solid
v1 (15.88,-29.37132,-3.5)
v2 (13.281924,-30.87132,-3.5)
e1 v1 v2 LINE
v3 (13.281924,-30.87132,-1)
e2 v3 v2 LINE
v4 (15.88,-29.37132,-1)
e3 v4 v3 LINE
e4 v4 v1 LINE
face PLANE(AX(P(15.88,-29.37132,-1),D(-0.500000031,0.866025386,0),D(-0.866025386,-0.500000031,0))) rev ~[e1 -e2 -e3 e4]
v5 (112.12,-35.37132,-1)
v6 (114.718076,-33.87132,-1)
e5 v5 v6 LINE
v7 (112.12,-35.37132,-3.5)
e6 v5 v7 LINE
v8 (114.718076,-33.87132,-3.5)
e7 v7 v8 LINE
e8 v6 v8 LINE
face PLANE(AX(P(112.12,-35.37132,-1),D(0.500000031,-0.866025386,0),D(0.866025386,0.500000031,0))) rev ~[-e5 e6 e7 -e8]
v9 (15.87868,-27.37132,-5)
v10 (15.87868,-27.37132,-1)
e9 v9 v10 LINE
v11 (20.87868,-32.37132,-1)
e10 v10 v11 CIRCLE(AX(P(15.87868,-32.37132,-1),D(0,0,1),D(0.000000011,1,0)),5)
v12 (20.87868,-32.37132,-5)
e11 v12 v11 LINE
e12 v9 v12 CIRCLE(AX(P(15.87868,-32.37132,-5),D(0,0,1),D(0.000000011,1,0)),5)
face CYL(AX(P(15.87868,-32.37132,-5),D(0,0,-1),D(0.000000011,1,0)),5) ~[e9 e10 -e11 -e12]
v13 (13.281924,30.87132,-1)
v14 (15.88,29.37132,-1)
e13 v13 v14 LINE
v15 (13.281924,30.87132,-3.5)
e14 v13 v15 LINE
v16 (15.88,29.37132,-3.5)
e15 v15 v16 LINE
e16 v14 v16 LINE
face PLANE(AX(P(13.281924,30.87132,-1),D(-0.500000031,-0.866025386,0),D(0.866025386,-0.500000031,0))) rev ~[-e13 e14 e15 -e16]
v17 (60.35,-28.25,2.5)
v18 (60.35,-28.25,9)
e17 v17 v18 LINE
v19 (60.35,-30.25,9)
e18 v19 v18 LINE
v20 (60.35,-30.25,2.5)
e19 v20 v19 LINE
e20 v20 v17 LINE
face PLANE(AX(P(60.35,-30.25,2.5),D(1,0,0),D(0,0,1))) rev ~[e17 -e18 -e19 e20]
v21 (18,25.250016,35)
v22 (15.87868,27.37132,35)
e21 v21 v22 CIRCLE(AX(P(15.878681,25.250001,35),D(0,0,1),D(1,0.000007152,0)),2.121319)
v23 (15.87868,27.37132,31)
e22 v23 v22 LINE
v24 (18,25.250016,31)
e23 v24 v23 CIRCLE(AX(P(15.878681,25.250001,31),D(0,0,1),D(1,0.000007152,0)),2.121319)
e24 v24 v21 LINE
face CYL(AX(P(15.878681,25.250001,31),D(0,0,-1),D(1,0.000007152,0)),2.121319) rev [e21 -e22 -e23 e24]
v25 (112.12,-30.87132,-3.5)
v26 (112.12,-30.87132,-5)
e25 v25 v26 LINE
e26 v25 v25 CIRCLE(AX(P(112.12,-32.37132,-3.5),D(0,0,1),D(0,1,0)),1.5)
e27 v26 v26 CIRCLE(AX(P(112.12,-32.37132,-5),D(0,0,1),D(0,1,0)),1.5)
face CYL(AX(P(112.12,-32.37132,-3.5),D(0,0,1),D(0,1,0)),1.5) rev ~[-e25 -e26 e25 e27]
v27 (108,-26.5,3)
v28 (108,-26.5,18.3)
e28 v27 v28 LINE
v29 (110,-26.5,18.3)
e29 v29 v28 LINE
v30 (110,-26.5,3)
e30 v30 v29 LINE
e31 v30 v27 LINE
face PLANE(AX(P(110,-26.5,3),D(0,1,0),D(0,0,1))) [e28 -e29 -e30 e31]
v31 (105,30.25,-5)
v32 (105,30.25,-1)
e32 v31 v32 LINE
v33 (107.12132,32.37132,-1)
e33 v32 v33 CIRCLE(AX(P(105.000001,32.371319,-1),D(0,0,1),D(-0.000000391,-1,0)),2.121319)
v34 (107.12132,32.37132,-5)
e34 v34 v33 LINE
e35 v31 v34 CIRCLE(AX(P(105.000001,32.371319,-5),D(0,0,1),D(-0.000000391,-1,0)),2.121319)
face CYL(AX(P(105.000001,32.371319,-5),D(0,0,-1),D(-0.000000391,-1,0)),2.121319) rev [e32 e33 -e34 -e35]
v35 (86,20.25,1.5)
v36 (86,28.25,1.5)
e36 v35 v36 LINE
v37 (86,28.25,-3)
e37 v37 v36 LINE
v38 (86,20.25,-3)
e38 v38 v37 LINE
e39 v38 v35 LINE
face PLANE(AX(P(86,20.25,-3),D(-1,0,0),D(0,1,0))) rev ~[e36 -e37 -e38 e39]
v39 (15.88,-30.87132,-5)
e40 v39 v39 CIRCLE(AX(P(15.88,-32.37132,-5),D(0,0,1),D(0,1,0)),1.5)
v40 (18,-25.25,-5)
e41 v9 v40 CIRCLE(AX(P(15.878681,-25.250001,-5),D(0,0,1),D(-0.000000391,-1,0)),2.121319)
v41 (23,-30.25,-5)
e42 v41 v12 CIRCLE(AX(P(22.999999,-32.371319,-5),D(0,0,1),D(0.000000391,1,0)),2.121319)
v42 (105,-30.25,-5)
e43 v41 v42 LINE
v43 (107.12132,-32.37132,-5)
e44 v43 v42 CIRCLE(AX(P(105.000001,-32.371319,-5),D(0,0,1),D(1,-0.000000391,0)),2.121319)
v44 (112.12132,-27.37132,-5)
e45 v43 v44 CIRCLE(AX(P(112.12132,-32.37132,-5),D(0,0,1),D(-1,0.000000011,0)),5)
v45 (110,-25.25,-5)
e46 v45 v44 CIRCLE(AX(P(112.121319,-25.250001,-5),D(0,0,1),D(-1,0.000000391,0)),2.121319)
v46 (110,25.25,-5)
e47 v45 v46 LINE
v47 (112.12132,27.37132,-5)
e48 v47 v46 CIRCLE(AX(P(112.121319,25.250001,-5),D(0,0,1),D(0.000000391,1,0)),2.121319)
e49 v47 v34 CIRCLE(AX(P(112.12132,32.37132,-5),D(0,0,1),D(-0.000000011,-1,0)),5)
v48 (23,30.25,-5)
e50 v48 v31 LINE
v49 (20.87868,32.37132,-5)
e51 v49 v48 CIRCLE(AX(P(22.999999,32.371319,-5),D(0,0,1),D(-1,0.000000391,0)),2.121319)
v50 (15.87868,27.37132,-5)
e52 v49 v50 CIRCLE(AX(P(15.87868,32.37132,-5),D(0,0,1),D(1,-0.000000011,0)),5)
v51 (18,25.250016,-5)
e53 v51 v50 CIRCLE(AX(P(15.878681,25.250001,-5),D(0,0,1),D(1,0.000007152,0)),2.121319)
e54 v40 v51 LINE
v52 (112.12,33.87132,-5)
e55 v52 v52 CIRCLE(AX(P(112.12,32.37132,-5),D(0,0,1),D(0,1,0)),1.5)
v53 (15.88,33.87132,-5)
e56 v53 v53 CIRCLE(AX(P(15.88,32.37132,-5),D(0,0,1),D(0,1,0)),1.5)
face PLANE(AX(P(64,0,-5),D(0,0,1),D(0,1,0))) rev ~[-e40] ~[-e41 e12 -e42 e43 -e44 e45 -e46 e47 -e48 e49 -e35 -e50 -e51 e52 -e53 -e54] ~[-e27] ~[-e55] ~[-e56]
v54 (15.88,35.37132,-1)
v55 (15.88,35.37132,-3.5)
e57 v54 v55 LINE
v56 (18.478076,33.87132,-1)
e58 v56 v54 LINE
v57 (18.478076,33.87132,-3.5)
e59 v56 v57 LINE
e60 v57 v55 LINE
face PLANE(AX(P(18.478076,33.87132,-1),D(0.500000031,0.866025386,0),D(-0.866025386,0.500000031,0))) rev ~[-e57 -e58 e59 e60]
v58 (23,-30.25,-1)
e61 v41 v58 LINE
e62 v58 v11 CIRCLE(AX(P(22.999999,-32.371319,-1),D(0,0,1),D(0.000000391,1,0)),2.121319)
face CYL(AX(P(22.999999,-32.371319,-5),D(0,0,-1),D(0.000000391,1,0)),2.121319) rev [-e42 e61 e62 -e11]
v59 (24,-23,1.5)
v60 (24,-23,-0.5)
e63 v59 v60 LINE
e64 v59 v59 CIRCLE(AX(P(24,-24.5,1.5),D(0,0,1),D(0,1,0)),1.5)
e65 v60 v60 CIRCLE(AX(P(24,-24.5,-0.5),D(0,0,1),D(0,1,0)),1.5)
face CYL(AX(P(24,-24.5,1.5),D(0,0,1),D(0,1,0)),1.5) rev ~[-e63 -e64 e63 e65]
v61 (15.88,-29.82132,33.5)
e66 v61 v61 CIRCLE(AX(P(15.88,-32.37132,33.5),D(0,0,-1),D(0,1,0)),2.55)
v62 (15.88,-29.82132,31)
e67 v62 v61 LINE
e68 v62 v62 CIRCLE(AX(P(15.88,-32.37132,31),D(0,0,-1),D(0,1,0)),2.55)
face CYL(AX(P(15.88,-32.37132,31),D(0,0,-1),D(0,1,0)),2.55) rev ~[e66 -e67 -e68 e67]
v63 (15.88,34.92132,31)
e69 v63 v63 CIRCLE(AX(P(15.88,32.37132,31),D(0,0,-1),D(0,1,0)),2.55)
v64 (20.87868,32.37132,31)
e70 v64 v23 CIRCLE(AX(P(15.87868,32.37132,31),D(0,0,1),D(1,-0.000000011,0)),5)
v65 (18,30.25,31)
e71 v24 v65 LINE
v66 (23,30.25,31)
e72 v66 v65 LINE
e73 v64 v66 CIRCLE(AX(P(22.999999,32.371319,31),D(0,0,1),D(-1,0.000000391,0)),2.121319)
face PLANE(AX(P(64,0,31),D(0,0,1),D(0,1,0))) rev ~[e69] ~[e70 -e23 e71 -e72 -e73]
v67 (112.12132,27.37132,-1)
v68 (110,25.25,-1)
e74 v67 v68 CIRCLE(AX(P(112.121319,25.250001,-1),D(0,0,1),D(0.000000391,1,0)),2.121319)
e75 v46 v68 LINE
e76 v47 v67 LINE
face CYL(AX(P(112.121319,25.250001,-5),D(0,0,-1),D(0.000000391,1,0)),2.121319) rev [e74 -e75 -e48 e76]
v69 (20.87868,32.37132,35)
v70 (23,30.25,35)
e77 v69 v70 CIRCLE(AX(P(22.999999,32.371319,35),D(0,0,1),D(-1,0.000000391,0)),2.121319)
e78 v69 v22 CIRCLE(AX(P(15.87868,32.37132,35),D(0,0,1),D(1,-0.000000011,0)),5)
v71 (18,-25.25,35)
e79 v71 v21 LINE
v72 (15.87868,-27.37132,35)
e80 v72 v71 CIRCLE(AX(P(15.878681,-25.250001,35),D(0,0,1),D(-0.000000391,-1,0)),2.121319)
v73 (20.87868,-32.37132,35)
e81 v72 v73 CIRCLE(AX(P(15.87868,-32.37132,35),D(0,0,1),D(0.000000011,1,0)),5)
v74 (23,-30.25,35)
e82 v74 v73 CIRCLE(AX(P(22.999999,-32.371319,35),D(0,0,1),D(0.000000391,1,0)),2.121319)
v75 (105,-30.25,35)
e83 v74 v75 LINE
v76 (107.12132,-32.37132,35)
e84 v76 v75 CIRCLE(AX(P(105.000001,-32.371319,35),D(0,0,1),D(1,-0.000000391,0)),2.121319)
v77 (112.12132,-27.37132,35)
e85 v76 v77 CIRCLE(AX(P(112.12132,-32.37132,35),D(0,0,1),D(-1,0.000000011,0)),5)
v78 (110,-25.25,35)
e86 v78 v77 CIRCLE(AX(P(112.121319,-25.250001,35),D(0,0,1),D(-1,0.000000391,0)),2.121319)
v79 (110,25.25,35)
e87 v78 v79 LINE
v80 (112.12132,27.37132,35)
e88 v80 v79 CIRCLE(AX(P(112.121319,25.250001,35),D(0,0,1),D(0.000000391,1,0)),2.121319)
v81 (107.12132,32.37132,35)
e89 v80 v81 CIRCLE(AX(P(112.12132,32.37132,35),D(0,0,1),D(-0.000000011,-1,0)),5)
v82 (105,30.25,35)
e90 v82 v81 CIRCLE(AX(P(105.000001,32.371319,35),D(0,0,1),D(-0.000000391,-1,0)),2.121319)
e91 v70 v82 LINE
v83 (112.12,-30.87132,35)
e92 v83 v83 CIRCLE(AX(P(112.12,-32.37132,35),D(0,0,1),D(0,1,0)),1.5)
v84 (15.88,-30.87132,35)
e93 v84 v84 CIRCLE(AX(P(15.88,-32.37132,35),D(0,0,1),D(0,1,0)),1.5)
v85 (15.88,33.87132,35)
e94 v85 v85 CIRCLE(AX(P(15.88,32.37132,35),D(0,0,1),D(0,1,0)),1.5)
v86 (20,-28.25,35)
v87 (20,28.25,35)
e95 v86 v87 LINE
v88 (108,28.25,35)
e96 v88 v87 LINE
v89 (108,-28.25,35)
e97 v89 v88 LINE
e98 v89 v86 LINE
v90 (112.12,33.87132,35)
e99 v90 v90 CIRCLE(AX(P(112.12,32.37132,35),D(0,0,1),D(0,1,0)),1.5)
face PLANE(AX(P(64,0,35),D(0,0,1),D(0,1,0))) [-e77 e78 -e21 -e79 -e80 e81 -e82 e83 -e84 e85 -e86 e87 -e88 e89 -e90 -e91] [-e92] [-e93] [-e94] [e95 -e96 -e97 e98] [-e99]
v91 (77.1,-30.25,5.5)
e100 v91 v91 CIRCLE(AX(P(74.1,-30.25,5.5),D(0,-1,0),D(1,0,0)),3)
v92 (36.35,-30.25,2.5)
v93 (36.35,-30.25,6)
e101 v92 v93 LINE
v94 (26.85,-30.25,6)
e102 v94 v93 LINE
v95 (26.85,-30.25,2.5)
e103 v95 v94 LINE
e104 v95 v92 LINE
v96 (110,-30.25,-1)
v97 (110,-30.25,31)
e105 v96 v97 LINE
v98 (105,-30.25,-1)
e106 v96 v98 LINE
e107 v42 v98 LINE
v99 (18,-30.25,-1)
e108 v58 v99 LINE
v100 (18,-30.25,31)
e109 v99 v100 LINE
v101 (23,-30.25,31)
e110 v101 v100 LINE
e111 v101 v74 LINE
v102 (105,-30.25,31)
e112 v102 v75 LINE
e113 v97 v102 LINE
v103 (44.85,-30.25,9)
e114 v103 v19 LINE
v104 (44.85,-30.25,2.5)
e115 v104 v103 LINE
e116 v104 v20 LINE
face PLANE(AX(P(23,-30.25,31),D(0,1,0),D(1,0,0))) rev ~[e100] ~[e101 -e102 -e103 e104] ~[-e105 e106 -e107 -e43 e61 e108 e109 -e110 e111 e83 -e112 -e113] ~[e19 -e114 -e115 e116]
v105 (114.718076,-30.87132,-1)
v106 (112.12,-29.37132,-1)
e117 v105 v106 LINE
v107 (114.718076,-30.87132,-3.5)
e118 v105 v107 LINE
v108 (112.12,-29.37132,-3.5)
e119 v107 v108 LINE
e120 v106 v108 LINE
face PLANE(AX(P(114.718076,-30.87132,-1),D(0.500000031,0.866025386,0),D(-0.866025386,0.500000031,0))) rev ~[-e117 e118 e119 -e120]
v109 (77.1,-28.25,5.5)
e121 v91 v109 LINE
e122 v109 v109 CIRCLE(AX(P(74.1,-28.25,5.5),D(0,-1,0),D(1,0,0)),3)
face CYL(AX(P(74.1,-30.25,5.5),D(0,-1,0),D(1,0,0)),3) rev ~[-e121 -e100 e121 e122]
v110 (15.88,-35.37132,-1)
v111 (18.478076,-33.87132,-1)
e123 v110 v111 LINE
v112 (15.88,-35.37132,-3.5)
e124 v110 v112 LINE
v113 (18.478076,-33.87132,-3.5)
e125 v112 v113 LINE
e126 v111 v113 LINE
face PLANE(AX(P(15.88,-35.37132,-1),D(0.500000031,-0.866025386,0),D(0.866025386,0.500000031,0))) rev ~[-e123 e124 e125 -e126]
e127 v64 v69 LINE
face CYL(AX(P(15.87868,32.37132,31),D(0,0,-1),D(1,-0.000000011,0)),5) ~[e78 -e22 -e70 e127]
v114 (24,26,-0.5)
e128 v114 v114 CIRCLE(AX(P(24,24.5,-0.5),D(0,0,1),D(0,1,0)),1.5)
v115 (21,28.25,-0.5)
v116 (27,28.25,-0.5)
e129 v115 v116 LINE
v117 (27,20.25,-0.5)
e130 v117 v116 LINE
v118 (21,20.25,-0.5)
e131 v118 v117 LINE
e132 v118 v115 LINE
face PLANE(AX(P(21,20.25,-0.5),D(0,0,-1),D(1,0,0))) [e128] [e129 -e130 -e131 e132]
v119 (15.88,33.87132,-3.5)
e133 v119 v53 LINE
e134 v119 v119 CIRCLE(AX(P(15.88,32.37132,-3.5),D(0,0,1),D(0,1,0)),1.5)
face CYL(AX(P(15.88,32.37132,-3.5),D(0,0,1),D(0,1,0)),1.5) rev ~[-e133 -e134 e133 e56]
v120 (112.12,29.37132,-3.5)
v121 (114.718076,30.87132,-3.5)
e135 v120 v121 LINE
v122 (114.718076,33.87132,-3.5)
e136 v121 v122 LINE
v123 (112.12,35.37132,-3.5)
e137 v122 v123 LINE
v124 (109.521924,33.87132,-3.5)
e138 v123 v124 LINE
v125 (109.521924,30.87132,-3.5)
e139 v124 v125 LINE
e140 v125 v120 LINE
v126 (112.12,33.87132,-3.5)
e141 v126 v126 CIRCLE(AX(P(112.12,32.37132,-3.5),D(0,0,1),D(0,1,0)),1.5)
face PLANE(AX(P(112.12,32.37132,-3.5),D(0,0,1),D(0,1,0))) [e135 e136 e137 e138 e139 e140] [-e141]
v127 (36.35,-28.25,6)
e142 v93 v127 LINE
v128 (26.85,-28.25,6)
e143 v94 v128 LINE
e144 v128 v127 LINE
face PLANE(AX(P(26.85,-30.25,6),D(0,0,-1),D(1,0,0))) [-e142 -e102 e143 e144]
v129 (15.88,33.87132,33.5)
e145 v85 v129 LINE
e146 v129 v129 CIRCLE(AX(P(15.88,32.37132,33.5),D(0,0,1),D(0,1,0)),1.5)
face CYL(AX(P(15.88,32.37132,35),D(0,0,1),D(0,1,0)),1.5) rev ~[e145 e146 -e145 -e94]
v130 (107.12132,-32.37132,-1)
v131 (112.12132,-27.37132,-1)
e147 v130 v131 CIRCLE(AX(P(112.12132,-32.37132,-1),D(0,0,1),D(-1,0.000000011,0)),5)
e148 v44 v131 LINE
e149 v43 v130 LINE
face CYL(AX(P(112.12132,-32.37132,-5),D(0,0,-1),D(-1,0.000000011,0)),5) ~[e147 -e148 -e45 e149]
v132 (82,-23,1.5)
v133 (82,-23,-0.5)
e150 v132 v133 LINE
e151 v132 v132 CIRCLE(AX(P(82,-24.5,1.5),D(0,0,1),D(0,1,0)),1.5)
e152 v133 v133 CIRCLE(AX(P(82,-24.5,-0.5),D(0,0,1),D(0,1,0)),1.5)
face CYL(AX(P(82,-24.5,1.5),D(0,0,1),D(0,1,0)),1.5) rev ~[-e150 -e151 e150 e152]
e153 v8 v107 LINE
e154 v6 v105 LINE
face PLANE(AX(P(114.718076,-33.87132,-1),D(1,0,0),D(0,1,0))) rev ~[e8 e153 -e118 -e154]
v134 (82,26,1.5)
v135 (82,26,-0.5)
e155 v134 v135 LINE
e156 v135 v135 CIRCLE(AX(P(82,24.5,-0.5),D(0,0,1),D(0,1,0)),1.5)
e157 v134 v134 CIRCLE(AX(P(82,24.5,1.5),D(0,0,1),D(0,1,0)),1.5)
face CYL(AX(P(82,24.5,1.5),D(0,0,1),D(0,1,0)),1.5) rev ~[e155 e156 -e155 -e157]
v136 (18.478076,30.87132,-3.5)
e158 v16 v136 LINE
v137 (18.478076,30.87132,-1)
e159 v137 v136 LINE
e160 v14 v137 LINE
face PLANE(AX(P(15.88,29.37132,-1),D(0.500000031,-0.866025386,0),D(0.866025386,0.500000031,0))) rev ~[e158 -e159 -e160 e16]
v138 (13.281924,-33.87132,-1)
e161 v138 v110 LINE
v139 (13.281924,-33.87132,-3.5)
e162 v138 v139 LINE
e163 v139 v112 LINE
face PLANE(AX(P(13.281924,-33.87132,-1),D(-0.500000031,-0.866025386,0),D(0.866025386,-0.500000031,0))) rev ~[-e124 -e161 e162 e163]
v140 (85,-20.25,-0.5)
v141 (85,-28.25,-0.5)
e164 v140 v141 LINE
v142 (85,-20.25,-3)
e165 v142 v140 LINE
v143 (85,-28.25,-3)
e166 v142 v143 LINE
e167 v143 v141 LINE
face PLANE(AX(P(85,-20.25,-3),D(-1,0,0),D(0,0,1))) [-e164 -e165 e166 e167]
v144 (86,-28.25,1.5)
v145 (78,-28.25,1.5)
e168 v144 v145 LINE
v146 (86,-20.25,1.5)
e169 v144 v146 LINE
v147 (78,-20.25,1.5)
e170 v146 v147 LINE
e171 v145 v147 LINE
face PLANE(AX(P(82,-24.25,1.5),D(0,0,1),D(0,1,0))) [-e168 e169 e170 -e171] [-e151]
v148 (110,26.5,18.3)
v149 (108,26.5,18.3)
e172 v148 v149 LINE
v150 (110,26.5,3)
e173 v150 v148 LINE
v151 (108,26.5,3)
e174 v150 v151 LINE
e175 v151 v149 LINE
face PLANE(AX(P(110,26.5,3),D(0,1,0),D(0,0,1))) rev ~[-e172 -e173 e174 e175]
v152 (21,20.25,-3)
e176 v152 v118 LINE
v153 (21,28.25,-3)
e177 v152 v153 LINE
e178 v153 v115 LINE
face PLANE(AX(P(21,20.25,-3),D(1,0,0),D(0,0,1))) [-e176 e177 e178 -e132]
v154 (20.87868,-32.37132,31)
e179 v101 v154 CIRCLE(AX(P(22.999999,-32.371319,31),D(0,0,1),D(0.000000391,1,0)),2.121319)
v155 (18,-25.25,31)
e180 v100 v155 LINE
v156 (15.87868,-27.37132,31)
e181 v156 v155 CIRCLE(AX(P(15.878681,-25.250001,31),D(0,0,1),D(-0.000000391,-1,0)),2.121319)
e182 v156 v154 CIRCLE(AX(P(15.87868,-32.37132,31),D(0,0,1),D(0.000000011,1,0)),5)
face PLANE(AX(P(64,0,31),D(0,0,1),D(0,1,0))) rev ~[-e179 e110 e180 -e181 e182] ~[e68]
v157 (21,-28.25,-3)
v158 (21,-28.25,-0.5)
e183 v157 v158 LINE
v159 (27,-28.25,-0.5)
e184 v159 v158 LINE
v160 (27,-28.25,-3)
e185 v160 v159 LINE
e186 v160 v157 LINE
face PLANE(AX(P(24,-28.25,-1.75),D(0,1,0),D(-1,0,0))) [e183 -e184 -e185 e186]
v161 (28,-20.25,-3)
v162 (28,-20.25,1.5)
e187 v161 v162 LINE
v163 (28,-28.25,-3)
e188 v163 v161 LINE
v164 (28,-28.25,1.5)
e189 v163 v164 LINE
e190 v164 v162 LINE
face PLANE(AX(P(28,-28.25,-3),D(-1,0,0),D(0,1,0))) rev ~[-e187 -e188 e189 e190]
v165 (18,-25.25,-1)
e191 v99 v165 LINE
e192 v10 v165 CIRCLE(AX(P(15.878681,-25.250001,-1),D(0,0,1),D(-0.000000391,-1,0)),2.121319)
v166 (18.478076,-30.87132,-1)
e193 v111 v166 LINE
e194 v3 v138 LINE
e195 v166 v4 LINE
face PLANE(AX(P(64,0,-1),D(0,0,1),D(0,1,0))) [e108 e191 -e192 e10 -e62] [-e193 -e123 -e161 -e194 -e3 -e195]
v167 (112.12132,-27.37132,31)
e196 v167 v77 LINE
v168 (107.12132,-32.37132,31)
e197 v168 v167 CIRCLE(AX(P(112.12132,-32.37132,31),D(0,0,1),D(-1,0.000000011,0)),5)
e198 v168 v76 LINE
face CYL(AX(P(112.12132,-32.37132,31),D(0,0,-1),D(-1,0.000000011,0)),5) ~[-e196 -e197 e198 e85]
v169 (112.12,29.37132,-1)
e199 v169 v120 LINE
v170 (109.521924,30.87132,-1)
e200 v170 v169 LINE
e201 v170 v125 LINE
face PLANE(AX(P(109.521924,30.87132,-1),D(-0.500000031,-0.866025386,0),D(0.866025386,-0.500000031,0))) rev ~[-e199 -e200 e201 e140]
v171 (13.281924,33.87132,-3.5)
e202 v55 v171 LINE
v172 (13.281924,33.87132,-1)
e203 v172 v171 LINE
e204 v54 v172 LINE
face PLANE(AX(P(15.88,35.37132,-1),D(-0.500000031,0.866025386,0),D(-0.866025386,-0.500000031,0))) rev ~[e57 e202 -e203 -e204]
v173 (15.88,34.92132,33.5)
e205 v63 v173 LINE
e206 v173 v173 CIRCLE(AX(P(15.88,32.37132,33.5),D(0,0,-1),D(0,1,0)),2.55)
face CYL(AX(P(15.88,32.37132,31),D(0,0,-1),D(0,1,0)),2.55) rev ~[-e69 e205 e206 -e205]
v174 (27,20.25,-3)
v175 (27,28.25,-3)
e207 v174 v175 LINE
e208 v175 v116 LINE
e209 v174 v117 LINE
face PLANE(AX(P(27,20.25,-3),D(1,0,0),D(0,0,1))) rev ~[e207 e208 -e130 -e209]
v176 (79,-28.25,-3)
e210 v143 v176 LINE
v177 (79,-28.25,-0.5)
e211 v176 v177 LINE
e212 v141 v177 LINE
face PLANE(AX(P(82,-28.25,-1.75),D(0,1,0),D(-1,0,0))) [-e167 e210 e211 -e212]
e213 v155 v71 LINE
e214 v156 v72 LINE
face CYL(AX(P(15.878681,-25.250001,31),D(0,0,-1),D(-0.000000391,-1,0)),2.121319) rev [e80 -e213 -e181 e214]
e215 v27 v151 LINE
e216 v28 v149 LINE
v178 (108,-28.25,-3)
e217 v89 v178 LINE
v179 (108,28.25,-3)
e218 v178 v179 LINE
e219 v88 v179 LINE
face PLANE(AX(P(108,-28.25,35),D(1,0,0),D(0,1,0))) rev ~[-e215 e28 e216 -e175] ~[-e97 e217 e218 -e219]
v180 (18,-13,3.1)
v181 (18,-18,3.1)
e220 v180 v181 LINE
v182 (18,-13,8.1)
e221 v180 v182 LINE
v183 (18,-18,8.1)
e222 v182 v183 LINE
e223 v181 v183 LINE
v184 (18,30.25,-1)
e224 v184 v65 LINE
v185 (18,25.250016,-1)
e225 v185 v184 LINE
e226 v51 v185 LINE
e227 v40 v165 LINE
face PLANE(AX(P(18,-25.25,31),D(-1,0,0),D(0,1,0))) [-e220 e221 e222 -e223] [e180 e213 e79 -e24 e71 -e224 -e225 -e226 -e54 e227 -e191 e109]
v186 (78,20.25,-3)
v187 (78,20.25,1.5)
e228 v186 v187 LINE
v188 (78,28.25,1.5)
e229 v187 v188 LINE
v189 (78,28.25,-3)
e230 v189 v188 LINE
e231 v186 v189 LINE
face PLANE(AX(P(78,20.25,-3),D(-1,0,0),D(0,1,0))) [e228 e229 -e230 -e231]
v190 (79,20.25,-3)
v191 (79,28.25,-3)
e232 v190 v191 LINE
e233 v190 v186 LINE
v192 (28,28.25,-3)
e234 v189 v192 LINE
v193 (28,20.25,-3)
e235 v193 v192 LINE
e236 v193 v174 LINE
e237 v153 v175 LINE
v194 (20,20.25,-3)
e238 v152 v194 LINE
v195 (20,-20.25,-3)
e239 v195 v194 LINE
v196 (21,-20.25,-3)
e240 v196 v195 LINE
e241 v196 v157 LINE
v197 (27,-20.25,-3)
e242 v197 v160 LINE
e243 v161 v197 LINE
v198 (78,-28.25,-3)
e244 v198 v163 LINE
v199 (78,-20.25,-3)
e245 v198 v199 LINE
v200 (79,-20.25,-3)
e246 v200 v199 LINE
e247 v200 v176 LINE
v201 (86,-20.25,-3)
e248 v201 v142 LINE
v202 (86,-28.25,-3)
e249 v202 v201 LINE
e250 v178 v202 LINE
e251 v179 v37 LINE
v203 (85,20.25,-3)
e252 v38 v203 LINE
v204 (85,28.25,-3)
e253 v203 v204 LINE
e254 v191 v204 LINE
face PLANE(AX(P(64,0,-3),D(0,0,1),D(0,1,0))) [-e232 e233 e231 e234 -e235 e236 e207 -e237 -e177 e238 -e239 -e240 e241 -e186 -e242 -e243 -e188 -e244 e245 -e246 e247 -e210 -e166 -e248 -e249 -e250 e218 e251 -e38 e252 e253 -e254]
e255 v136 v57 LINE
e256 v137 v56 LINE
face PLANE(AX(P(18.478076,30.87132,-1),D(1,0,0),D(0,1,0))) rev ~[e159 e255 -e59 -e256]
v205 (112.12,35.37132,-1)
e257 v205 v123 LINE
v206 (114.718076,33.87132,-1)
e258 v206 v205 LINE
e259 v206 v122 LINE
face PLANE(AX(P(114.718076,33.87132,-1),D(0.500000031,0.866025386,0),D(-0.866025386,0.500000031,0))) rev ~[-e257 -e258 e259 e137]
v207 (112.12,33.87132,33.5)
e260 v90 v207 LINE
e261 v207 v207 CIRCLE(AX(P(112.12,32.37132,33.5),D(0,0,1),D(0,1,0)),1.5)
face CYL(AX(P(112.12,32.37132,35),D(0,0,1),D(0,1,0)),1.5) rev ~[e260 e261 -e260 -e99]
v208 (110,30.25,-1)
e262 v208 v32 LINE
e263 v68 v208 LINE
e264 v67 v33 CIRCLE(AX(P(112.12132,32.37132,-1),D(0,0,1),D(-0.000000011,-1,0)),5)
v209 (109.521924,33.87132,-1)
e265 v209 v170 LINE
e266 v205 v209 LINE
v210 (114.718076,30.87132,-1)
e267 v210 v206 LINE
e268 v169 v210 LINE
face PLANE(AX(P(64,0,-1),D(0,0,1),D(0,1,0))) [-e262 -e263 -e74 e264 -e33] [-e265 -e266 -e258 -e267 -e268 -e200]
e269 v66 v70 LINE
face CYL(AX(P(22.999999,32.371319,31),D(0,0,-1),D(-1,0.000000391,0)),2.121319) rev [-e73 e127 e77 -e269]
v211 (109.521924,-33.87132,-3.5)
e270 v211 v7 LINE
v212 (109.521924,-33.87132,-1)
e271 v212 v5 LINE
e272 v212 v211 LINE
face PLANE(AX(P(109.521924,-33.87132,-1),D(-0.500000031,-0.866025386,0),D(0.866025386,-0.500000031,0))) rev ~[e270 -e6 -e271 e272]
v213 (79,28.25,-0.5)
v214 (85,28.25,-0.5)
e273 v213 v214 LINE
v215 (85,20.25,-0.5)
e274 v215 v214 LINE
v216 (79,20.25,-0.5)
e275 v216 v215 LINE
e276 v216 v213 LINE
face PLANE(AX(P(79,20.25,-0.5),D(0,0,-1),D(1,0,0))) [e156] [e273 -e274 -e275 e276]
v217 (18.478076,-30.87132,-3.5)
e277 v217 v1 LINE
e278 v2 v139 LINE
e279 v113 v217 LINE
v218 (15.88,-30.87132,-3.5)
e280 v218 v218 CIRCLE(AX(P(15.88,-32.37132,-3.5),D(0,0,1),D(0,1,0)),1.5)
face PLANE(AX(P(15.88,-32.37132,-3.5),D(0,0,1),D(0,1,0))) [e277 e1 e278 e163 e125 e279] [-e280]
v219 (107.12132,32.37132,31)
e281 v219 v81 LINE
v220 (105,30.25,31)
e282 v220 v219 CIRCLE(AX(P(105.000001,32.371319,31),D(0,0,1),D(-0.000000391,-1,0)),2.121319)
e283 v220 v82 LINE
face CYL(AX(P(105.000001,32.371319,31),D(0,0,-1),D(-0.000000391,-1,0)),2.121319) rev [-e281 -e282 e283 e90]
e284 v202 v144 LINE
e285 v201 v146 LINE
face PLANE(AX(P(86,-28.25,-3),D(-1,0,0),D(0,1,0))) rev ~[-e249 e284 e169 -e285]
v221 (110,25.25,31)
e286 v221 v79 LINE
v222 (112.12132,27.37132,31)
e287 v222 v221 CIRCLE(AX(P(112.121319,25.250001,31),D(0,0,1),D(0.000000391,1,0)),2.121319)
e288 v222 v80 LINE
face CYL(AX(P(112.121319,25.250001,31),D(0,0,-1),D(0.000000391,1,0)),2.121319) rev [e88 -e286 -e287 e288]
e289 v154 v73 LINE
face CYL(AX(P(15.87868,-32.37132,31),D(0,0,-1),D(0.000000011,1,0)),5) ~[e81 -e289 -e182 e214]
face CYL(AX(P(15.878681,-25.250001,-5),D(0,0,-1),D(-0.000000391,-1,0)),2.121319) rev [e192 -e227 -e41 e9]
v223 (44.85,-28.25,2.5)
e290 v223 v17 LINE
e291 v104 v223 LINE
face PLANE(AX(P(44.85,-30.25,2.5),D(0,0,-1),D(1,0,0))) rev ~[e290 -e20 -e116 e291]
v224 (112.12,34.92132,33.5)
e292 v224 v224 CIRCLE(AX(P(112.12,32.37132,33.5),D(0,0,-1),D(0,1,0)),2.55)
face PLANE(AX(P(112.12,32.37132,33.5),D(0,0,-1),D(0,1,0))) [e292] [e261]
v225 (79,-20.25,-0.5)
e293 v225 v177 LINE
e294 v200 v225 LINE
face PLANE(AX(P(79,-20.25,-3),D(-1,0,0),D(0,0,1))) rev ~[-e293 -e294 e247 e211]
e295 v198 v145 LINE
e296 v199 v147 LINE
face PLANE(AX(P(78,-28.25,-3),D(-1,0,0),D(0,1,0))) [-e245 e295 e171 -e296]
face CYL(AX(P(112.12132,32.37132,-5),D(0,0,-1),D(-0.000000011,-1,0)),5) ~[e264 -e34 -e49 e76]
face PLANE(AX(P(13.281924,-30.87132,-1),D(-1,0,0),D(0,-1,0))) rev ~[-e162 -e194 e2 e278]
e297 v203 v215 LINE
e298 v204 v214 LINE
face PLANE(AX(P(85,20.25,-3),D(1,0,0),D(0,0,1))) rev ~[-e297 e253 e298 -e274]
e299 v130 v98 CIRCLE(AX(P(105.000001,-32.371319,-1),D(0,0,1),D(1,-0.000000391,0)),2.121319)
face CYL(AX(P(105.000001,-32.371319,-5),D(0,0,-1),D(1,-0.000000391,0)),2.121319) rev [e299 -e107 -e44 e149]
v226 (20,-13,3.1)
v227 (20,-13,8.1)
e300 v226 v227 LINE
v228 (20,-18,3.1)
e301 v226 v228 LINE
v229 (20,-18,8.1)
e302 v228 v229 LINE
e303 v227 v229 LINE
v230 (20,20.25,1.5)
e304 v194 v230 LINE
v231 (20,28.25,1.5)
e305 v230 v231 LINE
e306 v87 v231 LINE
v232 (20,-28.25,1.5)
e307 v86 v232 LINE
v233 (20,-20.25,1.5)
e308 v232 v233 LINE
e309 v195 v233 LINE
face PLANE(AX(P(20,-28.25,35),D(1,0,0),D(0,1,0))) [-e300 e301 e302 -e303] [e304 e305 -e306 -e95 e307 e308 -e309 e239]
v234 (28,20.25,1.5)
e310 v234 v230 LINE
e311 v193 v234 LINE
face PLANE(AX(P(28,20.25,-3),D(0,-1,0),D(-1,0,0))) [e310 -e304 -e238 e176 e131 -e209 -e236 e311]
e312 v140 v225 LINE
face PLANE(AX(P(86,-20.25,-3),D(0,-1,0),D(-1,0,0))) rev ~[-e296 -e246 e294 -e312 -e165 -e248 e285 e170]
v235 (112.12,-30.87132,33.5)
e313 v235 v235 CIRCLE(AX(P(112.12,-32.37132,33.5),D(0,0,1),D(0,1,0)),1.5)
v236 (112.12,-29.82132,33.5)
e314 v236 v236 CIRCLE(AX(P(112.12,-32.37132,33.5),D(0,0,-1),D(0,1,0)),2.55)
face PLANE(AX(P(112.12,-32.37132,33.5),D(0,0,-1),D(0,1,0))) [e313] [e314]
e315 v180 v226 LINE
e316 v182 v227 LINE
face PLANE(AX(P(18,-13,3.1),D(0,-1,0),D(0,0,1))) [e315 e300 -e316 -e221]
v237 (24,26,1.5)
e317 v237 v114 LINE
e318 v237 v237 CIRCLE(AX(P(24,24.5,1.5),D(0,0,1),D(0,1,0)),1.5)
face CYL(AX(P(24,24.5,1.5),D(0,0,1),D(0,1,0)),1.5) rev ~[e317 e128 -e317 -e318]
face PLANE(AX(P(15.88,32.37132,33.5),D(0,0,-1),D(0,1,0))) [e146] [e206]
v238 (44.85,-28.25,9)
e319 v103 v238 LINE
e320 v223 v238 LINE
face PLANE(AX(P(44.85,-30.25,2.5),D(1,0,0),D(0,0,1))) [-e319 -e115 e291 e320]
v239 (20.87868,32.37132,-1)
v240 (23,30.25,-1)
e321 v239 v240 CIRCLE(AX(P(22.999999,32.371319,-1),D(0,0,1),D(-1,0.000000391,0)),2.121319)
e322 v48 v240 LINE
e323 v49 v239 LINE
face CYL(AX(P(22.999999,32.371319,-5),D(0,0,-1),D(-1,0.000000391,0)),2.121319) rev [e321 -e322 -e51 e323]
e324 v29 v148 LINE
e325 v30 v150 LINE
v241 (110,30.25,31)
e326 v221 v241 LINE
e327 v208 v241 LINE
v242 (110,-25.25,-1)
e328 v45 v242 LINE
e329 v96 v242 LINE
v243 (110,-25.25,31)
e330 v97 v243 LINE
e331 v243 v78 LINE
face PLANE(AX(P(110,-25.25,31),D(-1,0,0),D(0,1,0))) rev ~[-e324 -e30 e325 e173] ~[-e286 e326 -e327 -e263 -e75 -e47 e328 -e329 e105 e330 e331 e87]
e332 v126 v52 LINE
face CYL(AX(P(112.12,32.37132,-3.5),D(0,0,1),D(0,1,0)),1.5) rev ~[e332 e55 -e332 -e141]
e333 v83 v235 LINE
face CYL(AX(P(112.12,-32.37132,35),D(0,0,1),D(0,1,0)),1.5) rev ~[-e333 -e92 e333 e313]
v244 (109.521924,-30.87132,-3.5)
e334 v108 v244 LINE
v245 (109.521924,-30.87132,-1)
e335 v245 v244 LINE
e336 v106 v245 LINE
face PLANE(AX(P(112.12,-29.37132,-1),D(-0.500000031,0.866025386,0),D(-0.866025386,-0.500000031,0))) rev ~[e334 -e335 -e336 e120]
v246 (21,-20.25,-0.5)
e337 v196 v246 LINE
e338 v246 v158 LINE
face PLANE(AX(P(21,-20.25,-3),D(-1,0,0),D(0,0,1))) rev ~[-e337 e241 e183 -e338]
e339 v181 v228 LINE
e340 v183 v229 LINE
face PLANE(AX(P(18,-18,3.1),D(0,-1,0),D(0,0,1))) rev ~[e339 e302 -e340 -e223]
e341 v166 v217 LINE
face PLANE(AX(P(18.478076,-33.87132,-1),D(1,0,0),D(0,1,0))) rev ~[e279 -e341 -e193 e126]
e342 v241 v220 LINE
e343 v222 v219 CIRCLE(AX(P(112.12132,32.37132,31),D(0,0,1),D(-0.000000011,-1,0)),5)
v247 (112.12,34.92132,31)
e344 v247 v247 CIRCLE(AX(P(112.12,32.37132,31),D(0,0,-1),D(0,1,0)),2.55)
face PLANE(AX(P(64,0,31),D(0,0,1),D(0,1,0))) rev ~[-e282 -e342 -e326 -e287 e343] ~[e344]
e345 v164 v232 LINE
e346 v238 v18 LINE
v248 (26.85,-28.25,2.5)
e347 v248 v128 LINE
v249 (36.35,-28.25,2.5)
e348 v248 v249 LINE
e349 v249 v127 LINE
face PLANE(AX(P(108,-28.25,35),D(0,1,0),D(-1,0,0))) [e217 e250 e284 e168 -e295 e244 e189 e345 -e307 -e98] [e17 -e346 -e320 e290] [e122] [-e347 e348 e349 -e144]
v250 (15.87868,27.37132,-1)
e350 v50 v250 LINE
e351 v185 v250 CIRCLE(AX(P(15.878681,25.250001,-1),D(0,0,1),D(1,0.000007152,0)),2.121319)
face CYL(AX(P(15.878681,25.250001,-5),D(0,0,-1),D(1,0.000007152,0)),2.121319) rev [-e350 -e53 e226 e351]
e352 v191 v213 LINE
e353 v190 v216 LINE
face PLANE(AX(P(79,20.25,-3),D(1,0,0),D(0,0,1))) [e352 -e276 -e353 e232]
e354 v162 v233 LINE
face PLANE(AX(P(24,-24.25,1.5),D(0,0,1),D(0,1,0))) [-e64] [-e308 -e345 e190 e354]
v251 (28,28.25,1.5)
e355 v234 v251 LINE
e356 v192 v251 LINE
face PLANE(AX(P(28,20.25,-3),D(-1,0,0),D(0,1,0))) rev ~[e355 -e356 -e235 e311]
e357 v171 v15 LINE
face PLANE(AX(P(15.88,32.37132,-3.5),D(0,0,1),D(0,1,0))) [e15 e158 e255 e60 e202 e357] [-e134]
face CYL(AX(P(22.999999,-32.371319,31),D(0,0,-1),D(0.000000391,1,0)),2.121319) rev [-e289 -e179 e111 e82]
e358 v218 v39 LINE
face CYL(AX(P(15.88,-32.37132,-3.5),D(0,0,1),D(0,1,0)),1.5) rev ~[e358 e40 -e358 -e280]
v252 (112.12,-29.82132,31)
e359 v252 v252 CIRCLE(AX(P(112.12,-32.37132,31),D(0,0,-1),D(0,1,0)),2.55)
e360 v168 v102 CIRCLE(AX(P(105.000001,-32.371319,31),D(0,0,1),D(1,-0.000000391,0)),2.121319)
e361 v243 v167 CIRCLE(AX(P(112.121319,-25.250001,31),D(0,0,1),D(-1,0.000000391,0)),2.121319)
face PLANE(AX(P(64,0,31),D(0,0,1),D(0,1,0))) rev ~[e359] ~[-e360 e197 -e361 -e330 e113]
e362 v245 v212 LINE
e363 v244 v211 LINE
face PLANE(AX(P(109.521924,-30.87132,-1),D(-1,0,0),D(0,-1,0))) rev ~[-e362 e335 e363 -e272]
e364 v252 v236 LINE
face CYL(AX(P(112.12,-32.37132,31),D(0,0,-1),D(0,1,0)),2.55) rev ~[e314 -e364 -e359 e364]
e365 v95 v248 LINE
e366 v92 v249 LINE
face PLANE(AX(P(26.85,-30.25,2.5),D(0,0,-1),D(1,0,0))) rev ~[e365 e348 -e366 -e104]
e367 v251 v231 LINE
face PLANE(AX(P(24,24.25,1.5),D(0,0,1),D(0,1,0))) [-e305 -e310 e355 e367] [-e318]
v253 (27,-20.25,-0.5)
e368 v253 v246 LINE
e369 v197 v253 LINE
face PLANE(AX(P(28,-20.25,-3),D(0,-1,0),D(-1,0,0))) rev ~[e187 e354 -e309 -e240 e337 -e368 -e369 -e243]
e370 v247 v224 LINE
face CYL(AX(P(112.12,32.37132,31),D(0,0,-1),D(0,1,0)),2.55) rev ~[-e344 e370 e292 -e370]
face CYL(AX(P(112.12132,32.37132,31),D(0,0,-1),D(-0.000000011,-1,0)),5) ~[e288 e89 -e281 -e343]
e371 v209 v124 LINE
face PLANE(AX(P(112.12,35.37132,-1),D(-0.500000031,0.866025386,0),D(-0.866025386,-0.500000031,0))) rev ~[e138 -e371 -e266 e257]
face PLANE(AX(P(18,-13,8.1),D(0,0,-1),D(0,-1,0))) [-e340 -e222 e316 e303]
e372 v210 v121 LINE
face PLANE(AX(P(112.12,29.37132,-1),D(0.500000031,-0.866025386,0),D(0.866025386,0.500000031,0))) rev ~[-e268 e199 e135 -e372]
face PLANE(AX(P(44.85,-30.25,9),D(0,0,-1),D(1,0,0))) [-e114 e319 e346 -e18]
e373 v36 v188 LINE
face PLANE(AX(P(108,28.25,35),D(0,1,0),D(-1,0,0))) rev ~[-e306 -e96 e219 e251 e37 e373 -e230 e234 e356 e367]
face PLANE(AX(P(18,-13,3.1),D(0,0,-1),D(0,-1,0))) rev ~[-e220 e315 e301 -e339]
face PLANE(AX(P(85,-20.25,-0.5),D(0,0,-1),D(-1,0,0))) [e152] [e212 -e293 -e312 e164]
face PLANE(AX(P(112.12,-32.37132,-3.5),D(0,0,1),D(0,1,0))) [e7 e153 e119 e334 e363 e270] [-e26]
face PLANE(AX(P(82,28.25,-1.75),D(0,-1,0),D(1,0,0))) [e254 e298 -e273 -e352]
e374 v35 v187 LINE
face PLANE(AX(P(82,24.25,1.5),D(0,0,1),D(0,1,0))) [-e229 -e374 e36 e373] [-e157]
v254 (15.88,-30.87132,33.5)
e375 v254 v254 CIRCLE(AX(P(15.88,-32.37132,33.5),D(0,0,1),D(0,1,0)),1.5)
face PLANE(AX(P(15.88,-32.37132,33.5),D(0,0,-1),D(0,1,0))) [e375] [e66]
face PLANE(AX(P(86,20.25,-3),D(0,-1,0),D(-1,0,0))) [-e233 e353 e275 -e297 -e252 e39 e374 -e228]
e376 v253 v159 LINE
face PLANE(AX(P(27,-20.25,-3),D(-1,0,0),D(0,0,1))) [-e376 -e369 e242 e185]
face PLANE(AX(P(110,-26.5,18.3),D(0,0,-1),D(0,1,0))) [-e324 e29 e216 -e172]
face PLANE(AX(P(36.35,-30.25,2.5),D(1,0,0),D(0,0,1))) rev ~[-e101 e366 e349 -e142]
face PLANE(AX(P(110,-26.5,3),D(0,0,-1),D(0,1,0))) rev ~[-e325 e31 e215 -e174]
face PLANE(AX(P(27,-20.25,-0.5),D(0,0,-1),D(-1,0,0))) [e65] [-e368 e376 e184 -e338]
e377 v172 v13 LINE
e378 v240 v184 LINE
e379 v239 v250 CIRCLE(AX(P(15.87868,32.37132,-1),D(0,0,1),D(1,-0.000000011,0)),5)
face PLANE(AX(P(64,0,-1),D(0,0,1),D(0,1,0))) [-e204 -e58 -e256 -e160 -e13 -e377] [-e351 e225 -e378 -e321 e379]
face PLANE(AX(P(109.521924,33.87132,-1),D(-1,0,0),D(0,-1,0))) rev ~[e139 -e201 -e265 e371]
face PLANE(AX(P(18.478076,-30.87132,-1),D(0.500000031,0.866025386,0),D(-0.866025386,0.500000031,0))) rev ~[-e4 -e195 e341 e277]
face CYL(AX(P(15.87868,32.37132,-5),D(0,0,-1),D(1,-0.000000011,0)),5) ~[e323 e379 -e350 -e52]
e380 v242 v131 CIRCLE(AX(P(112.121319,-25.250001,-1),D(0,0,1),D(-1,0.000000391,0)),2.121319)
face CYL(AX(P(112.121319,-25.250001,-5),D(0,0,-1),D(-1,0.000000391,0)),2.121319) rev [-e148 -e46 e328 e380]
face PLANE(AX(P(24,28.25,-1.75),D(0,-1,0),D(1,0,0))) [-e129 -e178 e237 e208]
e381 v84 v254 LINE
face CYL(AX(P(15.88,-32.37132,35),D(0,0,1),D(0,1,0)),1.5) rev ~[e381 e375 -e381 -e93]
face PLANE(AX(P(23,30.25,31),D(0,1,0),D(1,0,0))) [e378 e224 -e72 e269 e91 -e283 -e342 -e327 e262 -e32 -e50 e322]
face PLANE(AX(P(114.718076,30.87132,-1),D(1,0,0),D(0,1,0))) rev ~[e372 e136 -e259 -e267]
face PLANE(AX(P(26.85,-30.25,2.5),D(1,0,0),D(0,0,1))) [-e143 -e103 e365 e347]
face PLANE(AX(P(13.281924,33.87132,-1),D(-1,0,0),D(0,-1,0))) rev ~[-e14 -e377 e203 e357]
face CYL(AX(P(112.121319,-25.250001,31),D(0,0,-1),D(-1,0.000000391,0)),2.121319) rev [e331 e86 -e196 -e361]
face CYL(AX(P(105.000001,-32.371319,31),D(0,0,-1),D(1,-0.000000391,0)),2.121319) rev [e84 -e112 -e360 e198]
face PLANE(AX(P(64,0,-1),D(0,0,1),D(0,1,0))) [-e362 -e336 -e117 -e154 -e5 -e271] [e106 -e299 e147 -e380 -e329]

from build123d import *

# Parameters (mm, degrees)
PAD007_DEPTH            = 4
SKETCH058_W             = 60.5
SKETCH058_H             = 92
PAD008_DEPTH            = 32
POCKET006_DEPTH         = 2.5
SKETCH059_R             = 1.5
POCKET007_DEPTH         = 1.5
PAD009_DEPTH            = 4
SKETCH061_W             = 56.5
SKETCH061_H             = 88
POCKET008_DEPTH         = 38
SKETCH062_R             = 2.55
POCKET009_DEPTH         = 2.5
SKETCH063_R             = 1.5
POCKET010_DEPTH         = 1.5
SKETCH064_W             = 8
SKETCH064_H             = 8
PAD010_DEPTH            = 4.5
SKETCH065_W             = 6
SKETCH065_H             = 2.5
POCKET011_DEPTH         = 8
SKETCH066_W             = 6
SKETCH066_H             = 2.5
POCKET012_DEPTH         = 8
SKETCH067_R             = 1.5
POCKET013_DEPTH         = 2
SKETCH068_W             = 53
SKETCH068_H             = 15.3
POCKET014_DEPTH         = 2
SKETCH069_R             = 3
SKETCH069_W             = 15.5
SKETCH069_H             = 6.5
SKETCH069_W_2           = 9.5
SKETCH069_H_2           = 3.5
POCKET015_DEPTH         = 2
SKETCH070_W             = 5
SKETCH070_H             = 5
POCKET016_DEPTH         = 2
BODY003_PLACEMENT_ANGLE = 90


with BuildPart() as part:
    # Sketch054 → Pad007 (new body)
    with BuildSketch(Plane.XY):
        with BuildLine():
            ThreePointArc((-27.37132, 48.12132), (-35.906854, 51.656854), (-32.37132, 43.12132))
            ThreePointArc((-30.25, 41), (-30.87132, 42.5), (-32.37132, 43.12132))
            Line((-30.25, 41), (-30.25, -41))
            ThreePointArc((-32.37132, -43.12132), (-30.87132, -42.5), (-30.25, -41))
            ThreePointArc((-32.37132, -43.12132), (-35.906854, -51.656854), (-27.37132, -48.12132))
            ThreePointArc((-25.25, -46), (-26.75, -46.62132), (-27.37132, -48.12132))
            Line((-25.25, -46), (25.25, -46))
            ThreePointArc((27.37132, -48.12132), (26.75, -46.62132), (25.25, -46))
            ThreePointArc((27.37132, -48.12132), (35.906854, -51.656854), (32.37132, -43.12132))
            ThreePointArc((30.25, -41), (30.87132, -42.5), (32.37132, -43.12132))
            Line((30.25, 41), (30.25, -41))
            ThreePointArc((32.37132, 43.12132), (30.87132, 42.5), (30.25, 41))
            ThreePointArc((32.37132, 43.12132), (35.906854, 51.656854), (27.37132, 48.12132))
            ThreePointArc((25.250016, 46), (26.750006, 46.621326), (27.37132, 48.12132))
            Line((-25.25, 46), (25.250016, 46))
            ThreePointArc((-27.37132, 48.12132), (-26.75, 46.62132), (-25.25, 46))
        make_face()
    extrude(amount=PAD007_DEPTH)

    # Sketch058 (on Face18 of Pad007) → Pad008 (join)
    with BuildSketch(Plane.XY.offset(4)):
        Rectangle(SKETCH058_W, SKETCH058_H)
    extrude(amount=PAD008_DEPTH)

    # Sketch057 (on Face4 of Pad008) → Pocket006 (cut)
    with BuildSketch(Plane.XY.offset(4)):
        Polygon((-30.87132, 50.718076), (-33.87132, 50.718076), (-35.37132, 48.12), (-33.87132, 45.521924), (-30.87132, 45.521924), (-29.37132, 48.12), align=None)
        Polygon((33.87132, 50.718076), (30.87132, 50.718076), (29.37132, 48.12), (30.87132, 45.521924), (33.87132, 45.521924), (35.37132, 48.12), align=None)
        Polygon((33.87132, -45.521924), (30.87132, -45.521924), (29.37132, -48.12), (30.87132, -50.718076), (33.87132, -50.718076), (35.37132, -48.12), align=None)
        Polygon((-30.87132, -45.521924), (-33.87132, -45.521924), (-35.37132, -48.12), (-33.87132, -50.718076), (-30.87132, -50.718076), (-29.37132, -48.12), align=None)
    extrude(amount=-POCKET006_DEPTH, mode=Mode.SUBTRACT)

    # Sketch059 (on Face35 of Pocket006) → Pocket007 (cut)
    with BuildSketch(Plane.XY.offset(1.5)):
        with Locations((-32.37132, 48.12)):
            Circle(SKETCH059_R)
        with Locations((32.37132, 48.12)):
            Circle(SKETCH059_R)
        with Locations((-32.37132, -48.12)):
            Circle(SKETCH059_R)
        with Locations((32.37132, -48.12)):
            Circle(SKETCH059_R)
    extrude(amount=-POCKET007_DEPTH, mode=Mode.SUBTRACT)

    # Sketch060 (on Face8 of Pocket007) → Pad009 (join)
    with BuildSketch(Plane.XY.offset(36)):
        with BuildLine():
            ThreePointArc((-27.37132, 48.12132), (-35.906854, 51.656854), (-32.37132, 43.12132))
            ThreePointArc((-30.25, 41), (-30.87132, 42.5), (-32.37132, 43.12132))
            Line((-30.25, 41), (-30.25, -41))
            ThreePointArc((-32.37132, -43.12132), (-30.87132, -42.5), (-30.25, -41))
            ThreePointArc((-32.37132, -43.12132), (-35.906854, -51.656854), (-27.37132, -48.12132))
            ThreePointArc((-25.25, -46), (-26.75, -46.62132), (-27.37132, -48.12132))
            Line((-25.25, -46), (25.25, -46))
            ThreePointArc((27.37132, -48.12132), (26.75, -46.62132), (25.25, -46))
            ThreePointArc((27.37132, -48.12132), (35.906854, -51.656854), (32.37132, -43.12132))
            ThreePointArc((30.25, -41), (30.87132, -42.5), (32.37132, -43.12132))
            Line((30.25, 41), (30.25, -41))
            ThreePointArc((32.37132, 43.12132), (30.87132, 42.5), (30.25, 41))
            ThreePointArc((32.37132, 43.12132), (35.906854, 51.656854), (27.37132, 48.12132))
            ThreePointArc((25.250016, 46), (26.750006, 46.621326), (27.37132, 48.12132))
            Line((-25.25, 46), (25.250016, 46))
            ThreePointArc((-27.37132, 48.12132), (-26.75, 46.62132), (-25.25, 46))
        make_face()
    extrude(amount=PAD009_DEPTH)

    # Sketch061 (on Face57 of Pad009) → Pocket008 (cut)
    with BuildSketch(Plane.XY.offset(40)):
        Rectangle(SKETCH061_W, SKETCH061_H)
    extrude(amount=-POCKET008_DEPTH, mode=Mode.SUBTRACT)

    # Sketch062 (on Face36 of Pocket008) → Pocket009 (cut)
    with BuildSketch(Plane(origin=(0, 0, 36), x_dir=(1, 0, 0), z_dir=(0, 0, -1))):
        with Locations((-32.37132, 48.12)):
            Circle(SKETCH062_R)
        with Locations((32.37132, 48.12)):
            Circle(SKETCH062_R)
        with Locations((-32.37132, -48.12)):
            Circle(SKETCH062_R)
        with Locations((32.37132, -48.12)):
            Circle(SKETCH062_R)
    extrude(amount=-POCKET009_DEPTH, mode=Mode.SUBTRACT)

    # Sketch063 (on Face10 of Pocket009) → Pocket010 (cut)
    with BuildSketch(Plane.XY.offset(40)):
        with Locations((-32.37132, 48.12)):
            Circle(SKETCH063_R)
        with Locations((32.37132, 48.12)):
            Circle(SKETCH063_R)
        with Locations((-32.37132, -48.12)):
            Circle(SKETCH063_R)
        with Locations((32.37132, -48.12)):
            Circle(SKETCH063_R)
    extrude(amount=-POCKET010_DEPTH, mode=Mode.SUBTRACT)

    # Sketch064 (on Face79 of Pocket010) → Pad010 (join)
    with BuildSketch(Plane.XY.offset(2)):
        with Locations((-24.25, 40)):
            Rectangle(SKETCH064_W, SKETCH064_H)
        with Locations((24.25, 40)):
            Rectangle(SKETCH064_W, SKETCH064_H)
        with Locations((-24.25, -18)):
            Rectangle(SKETCH064_W, SKETCH064_H)
        with Locations((24.25, -18)):
            Rectangle(SKETCH064_W, SKETCH064_H)
    extrude(amount=PAD010_DEPTH)

    # Sketch065 (on Face85 of Pad010) → Pocket011 (cut)
    with BuildSketch(Plane.YZ.offset(-20.25)):
        with Locations((-18, 3.25)):
            Rectangle(SKETCH065_W, SKETCH065_H)
        with Locations((40, 3.25)):
            Rectangle(SKETCH065_W, SKETCH065_H)
    extrude(amount=-POCKET011_DEPTH, mode=Mode.SUBTRACT)

    # Sketch066 (on Face85 of Pocket011) → Pocket012 (cut)
    with BuildSketch(Plane(origin=(20.25, 0, 0), x_dir=(0, -1, 0), z_dir=(-1, 0, 0))):
        with Locations((-40, 3.25)):
            Rectangle(SKETCH066_W, SKETCH066_H)
        with Locations((18, 3.25)):
            Rectangle(SKETCH066_W, SKETCH066_H)
    extrude(amount=-POCKET012_DEPTH, mode=Mode.SUBTRACT)

    # Sketch067 (on Face83 of Pocket012) → Pocket013 (cut)
    with BuildSketch(Plane.XY.offset(6.5)):
        with Locations((-24.5, 40)):
            Circle(SKETCH067_R)
        with Locations((24.5, 40)):
            Circle(SKETCH067_R)
        with Locations((-24.5, -18)):
            Circle(SKETCH067_R)
        with Locations((24.5, -18)):
            Circle(SKETCH067_R)
    extrude(amount=-POCKET013_DEPTH, mode=Mode.SUBTRACT)

    # Sketch068 (on Face22 of Pocket013) → Pocket014 (cut)
    with BuildSketch(Plane.XZ.offset(46)):
        with Locations((0, 15.65)):
            Rectangle(SKETCH068_W, SKETCH068_H)
    extrude(amount=-POCKET014_DEPTH, mode=Mode.SUBTRACT)

    # Sketch069 (on Face7 of Pocket014) → Pocket015 (cut)
    with BuildSketch(Plane(origin=(-30.25, 0, 0), x_dir=(0, -1, 0), z_dir=(-1, 0, 0))):
        with Locations((10.1, 10.5)):
            Circle(SKETCH069_R)
        with Locations((-11.4, 10.75)):
            Rectangle(SKETCH069_W, SKETCH069_H)
        with Locations((-32.4, 9.25)):
            Rectangle(SKETCH069_W_2, SKETCH069_H_2)
    extrude(amount=-POCKET015_DEPTH, mode=Mode.SUBTRACT)

    # Sketch070 (on Face3 of Pocket015) → Pocket016 (cut)
    with BuildSketch(Plane(origin=(0, 46, 0), x_dir=(-1, 0, 0), z_dir=(0, 1, 0))):
        with Locations((15.5, 10.6)):
            Rectangle(SKETCH070_W, SKETCH070_H)
    extrude(amount=-POCKET016_DEPTH, mode=Mode.SUBTRACT)


with BuildPart() as part_1:
    # Body003 placement: moved
    add(part.part.moved(Location((64, 0, -5))).rotate(Axis((64, 0, -5), (0, 0, 1)), BODY003_PLACEMENT_ANGLE))


solid = part_1.part
